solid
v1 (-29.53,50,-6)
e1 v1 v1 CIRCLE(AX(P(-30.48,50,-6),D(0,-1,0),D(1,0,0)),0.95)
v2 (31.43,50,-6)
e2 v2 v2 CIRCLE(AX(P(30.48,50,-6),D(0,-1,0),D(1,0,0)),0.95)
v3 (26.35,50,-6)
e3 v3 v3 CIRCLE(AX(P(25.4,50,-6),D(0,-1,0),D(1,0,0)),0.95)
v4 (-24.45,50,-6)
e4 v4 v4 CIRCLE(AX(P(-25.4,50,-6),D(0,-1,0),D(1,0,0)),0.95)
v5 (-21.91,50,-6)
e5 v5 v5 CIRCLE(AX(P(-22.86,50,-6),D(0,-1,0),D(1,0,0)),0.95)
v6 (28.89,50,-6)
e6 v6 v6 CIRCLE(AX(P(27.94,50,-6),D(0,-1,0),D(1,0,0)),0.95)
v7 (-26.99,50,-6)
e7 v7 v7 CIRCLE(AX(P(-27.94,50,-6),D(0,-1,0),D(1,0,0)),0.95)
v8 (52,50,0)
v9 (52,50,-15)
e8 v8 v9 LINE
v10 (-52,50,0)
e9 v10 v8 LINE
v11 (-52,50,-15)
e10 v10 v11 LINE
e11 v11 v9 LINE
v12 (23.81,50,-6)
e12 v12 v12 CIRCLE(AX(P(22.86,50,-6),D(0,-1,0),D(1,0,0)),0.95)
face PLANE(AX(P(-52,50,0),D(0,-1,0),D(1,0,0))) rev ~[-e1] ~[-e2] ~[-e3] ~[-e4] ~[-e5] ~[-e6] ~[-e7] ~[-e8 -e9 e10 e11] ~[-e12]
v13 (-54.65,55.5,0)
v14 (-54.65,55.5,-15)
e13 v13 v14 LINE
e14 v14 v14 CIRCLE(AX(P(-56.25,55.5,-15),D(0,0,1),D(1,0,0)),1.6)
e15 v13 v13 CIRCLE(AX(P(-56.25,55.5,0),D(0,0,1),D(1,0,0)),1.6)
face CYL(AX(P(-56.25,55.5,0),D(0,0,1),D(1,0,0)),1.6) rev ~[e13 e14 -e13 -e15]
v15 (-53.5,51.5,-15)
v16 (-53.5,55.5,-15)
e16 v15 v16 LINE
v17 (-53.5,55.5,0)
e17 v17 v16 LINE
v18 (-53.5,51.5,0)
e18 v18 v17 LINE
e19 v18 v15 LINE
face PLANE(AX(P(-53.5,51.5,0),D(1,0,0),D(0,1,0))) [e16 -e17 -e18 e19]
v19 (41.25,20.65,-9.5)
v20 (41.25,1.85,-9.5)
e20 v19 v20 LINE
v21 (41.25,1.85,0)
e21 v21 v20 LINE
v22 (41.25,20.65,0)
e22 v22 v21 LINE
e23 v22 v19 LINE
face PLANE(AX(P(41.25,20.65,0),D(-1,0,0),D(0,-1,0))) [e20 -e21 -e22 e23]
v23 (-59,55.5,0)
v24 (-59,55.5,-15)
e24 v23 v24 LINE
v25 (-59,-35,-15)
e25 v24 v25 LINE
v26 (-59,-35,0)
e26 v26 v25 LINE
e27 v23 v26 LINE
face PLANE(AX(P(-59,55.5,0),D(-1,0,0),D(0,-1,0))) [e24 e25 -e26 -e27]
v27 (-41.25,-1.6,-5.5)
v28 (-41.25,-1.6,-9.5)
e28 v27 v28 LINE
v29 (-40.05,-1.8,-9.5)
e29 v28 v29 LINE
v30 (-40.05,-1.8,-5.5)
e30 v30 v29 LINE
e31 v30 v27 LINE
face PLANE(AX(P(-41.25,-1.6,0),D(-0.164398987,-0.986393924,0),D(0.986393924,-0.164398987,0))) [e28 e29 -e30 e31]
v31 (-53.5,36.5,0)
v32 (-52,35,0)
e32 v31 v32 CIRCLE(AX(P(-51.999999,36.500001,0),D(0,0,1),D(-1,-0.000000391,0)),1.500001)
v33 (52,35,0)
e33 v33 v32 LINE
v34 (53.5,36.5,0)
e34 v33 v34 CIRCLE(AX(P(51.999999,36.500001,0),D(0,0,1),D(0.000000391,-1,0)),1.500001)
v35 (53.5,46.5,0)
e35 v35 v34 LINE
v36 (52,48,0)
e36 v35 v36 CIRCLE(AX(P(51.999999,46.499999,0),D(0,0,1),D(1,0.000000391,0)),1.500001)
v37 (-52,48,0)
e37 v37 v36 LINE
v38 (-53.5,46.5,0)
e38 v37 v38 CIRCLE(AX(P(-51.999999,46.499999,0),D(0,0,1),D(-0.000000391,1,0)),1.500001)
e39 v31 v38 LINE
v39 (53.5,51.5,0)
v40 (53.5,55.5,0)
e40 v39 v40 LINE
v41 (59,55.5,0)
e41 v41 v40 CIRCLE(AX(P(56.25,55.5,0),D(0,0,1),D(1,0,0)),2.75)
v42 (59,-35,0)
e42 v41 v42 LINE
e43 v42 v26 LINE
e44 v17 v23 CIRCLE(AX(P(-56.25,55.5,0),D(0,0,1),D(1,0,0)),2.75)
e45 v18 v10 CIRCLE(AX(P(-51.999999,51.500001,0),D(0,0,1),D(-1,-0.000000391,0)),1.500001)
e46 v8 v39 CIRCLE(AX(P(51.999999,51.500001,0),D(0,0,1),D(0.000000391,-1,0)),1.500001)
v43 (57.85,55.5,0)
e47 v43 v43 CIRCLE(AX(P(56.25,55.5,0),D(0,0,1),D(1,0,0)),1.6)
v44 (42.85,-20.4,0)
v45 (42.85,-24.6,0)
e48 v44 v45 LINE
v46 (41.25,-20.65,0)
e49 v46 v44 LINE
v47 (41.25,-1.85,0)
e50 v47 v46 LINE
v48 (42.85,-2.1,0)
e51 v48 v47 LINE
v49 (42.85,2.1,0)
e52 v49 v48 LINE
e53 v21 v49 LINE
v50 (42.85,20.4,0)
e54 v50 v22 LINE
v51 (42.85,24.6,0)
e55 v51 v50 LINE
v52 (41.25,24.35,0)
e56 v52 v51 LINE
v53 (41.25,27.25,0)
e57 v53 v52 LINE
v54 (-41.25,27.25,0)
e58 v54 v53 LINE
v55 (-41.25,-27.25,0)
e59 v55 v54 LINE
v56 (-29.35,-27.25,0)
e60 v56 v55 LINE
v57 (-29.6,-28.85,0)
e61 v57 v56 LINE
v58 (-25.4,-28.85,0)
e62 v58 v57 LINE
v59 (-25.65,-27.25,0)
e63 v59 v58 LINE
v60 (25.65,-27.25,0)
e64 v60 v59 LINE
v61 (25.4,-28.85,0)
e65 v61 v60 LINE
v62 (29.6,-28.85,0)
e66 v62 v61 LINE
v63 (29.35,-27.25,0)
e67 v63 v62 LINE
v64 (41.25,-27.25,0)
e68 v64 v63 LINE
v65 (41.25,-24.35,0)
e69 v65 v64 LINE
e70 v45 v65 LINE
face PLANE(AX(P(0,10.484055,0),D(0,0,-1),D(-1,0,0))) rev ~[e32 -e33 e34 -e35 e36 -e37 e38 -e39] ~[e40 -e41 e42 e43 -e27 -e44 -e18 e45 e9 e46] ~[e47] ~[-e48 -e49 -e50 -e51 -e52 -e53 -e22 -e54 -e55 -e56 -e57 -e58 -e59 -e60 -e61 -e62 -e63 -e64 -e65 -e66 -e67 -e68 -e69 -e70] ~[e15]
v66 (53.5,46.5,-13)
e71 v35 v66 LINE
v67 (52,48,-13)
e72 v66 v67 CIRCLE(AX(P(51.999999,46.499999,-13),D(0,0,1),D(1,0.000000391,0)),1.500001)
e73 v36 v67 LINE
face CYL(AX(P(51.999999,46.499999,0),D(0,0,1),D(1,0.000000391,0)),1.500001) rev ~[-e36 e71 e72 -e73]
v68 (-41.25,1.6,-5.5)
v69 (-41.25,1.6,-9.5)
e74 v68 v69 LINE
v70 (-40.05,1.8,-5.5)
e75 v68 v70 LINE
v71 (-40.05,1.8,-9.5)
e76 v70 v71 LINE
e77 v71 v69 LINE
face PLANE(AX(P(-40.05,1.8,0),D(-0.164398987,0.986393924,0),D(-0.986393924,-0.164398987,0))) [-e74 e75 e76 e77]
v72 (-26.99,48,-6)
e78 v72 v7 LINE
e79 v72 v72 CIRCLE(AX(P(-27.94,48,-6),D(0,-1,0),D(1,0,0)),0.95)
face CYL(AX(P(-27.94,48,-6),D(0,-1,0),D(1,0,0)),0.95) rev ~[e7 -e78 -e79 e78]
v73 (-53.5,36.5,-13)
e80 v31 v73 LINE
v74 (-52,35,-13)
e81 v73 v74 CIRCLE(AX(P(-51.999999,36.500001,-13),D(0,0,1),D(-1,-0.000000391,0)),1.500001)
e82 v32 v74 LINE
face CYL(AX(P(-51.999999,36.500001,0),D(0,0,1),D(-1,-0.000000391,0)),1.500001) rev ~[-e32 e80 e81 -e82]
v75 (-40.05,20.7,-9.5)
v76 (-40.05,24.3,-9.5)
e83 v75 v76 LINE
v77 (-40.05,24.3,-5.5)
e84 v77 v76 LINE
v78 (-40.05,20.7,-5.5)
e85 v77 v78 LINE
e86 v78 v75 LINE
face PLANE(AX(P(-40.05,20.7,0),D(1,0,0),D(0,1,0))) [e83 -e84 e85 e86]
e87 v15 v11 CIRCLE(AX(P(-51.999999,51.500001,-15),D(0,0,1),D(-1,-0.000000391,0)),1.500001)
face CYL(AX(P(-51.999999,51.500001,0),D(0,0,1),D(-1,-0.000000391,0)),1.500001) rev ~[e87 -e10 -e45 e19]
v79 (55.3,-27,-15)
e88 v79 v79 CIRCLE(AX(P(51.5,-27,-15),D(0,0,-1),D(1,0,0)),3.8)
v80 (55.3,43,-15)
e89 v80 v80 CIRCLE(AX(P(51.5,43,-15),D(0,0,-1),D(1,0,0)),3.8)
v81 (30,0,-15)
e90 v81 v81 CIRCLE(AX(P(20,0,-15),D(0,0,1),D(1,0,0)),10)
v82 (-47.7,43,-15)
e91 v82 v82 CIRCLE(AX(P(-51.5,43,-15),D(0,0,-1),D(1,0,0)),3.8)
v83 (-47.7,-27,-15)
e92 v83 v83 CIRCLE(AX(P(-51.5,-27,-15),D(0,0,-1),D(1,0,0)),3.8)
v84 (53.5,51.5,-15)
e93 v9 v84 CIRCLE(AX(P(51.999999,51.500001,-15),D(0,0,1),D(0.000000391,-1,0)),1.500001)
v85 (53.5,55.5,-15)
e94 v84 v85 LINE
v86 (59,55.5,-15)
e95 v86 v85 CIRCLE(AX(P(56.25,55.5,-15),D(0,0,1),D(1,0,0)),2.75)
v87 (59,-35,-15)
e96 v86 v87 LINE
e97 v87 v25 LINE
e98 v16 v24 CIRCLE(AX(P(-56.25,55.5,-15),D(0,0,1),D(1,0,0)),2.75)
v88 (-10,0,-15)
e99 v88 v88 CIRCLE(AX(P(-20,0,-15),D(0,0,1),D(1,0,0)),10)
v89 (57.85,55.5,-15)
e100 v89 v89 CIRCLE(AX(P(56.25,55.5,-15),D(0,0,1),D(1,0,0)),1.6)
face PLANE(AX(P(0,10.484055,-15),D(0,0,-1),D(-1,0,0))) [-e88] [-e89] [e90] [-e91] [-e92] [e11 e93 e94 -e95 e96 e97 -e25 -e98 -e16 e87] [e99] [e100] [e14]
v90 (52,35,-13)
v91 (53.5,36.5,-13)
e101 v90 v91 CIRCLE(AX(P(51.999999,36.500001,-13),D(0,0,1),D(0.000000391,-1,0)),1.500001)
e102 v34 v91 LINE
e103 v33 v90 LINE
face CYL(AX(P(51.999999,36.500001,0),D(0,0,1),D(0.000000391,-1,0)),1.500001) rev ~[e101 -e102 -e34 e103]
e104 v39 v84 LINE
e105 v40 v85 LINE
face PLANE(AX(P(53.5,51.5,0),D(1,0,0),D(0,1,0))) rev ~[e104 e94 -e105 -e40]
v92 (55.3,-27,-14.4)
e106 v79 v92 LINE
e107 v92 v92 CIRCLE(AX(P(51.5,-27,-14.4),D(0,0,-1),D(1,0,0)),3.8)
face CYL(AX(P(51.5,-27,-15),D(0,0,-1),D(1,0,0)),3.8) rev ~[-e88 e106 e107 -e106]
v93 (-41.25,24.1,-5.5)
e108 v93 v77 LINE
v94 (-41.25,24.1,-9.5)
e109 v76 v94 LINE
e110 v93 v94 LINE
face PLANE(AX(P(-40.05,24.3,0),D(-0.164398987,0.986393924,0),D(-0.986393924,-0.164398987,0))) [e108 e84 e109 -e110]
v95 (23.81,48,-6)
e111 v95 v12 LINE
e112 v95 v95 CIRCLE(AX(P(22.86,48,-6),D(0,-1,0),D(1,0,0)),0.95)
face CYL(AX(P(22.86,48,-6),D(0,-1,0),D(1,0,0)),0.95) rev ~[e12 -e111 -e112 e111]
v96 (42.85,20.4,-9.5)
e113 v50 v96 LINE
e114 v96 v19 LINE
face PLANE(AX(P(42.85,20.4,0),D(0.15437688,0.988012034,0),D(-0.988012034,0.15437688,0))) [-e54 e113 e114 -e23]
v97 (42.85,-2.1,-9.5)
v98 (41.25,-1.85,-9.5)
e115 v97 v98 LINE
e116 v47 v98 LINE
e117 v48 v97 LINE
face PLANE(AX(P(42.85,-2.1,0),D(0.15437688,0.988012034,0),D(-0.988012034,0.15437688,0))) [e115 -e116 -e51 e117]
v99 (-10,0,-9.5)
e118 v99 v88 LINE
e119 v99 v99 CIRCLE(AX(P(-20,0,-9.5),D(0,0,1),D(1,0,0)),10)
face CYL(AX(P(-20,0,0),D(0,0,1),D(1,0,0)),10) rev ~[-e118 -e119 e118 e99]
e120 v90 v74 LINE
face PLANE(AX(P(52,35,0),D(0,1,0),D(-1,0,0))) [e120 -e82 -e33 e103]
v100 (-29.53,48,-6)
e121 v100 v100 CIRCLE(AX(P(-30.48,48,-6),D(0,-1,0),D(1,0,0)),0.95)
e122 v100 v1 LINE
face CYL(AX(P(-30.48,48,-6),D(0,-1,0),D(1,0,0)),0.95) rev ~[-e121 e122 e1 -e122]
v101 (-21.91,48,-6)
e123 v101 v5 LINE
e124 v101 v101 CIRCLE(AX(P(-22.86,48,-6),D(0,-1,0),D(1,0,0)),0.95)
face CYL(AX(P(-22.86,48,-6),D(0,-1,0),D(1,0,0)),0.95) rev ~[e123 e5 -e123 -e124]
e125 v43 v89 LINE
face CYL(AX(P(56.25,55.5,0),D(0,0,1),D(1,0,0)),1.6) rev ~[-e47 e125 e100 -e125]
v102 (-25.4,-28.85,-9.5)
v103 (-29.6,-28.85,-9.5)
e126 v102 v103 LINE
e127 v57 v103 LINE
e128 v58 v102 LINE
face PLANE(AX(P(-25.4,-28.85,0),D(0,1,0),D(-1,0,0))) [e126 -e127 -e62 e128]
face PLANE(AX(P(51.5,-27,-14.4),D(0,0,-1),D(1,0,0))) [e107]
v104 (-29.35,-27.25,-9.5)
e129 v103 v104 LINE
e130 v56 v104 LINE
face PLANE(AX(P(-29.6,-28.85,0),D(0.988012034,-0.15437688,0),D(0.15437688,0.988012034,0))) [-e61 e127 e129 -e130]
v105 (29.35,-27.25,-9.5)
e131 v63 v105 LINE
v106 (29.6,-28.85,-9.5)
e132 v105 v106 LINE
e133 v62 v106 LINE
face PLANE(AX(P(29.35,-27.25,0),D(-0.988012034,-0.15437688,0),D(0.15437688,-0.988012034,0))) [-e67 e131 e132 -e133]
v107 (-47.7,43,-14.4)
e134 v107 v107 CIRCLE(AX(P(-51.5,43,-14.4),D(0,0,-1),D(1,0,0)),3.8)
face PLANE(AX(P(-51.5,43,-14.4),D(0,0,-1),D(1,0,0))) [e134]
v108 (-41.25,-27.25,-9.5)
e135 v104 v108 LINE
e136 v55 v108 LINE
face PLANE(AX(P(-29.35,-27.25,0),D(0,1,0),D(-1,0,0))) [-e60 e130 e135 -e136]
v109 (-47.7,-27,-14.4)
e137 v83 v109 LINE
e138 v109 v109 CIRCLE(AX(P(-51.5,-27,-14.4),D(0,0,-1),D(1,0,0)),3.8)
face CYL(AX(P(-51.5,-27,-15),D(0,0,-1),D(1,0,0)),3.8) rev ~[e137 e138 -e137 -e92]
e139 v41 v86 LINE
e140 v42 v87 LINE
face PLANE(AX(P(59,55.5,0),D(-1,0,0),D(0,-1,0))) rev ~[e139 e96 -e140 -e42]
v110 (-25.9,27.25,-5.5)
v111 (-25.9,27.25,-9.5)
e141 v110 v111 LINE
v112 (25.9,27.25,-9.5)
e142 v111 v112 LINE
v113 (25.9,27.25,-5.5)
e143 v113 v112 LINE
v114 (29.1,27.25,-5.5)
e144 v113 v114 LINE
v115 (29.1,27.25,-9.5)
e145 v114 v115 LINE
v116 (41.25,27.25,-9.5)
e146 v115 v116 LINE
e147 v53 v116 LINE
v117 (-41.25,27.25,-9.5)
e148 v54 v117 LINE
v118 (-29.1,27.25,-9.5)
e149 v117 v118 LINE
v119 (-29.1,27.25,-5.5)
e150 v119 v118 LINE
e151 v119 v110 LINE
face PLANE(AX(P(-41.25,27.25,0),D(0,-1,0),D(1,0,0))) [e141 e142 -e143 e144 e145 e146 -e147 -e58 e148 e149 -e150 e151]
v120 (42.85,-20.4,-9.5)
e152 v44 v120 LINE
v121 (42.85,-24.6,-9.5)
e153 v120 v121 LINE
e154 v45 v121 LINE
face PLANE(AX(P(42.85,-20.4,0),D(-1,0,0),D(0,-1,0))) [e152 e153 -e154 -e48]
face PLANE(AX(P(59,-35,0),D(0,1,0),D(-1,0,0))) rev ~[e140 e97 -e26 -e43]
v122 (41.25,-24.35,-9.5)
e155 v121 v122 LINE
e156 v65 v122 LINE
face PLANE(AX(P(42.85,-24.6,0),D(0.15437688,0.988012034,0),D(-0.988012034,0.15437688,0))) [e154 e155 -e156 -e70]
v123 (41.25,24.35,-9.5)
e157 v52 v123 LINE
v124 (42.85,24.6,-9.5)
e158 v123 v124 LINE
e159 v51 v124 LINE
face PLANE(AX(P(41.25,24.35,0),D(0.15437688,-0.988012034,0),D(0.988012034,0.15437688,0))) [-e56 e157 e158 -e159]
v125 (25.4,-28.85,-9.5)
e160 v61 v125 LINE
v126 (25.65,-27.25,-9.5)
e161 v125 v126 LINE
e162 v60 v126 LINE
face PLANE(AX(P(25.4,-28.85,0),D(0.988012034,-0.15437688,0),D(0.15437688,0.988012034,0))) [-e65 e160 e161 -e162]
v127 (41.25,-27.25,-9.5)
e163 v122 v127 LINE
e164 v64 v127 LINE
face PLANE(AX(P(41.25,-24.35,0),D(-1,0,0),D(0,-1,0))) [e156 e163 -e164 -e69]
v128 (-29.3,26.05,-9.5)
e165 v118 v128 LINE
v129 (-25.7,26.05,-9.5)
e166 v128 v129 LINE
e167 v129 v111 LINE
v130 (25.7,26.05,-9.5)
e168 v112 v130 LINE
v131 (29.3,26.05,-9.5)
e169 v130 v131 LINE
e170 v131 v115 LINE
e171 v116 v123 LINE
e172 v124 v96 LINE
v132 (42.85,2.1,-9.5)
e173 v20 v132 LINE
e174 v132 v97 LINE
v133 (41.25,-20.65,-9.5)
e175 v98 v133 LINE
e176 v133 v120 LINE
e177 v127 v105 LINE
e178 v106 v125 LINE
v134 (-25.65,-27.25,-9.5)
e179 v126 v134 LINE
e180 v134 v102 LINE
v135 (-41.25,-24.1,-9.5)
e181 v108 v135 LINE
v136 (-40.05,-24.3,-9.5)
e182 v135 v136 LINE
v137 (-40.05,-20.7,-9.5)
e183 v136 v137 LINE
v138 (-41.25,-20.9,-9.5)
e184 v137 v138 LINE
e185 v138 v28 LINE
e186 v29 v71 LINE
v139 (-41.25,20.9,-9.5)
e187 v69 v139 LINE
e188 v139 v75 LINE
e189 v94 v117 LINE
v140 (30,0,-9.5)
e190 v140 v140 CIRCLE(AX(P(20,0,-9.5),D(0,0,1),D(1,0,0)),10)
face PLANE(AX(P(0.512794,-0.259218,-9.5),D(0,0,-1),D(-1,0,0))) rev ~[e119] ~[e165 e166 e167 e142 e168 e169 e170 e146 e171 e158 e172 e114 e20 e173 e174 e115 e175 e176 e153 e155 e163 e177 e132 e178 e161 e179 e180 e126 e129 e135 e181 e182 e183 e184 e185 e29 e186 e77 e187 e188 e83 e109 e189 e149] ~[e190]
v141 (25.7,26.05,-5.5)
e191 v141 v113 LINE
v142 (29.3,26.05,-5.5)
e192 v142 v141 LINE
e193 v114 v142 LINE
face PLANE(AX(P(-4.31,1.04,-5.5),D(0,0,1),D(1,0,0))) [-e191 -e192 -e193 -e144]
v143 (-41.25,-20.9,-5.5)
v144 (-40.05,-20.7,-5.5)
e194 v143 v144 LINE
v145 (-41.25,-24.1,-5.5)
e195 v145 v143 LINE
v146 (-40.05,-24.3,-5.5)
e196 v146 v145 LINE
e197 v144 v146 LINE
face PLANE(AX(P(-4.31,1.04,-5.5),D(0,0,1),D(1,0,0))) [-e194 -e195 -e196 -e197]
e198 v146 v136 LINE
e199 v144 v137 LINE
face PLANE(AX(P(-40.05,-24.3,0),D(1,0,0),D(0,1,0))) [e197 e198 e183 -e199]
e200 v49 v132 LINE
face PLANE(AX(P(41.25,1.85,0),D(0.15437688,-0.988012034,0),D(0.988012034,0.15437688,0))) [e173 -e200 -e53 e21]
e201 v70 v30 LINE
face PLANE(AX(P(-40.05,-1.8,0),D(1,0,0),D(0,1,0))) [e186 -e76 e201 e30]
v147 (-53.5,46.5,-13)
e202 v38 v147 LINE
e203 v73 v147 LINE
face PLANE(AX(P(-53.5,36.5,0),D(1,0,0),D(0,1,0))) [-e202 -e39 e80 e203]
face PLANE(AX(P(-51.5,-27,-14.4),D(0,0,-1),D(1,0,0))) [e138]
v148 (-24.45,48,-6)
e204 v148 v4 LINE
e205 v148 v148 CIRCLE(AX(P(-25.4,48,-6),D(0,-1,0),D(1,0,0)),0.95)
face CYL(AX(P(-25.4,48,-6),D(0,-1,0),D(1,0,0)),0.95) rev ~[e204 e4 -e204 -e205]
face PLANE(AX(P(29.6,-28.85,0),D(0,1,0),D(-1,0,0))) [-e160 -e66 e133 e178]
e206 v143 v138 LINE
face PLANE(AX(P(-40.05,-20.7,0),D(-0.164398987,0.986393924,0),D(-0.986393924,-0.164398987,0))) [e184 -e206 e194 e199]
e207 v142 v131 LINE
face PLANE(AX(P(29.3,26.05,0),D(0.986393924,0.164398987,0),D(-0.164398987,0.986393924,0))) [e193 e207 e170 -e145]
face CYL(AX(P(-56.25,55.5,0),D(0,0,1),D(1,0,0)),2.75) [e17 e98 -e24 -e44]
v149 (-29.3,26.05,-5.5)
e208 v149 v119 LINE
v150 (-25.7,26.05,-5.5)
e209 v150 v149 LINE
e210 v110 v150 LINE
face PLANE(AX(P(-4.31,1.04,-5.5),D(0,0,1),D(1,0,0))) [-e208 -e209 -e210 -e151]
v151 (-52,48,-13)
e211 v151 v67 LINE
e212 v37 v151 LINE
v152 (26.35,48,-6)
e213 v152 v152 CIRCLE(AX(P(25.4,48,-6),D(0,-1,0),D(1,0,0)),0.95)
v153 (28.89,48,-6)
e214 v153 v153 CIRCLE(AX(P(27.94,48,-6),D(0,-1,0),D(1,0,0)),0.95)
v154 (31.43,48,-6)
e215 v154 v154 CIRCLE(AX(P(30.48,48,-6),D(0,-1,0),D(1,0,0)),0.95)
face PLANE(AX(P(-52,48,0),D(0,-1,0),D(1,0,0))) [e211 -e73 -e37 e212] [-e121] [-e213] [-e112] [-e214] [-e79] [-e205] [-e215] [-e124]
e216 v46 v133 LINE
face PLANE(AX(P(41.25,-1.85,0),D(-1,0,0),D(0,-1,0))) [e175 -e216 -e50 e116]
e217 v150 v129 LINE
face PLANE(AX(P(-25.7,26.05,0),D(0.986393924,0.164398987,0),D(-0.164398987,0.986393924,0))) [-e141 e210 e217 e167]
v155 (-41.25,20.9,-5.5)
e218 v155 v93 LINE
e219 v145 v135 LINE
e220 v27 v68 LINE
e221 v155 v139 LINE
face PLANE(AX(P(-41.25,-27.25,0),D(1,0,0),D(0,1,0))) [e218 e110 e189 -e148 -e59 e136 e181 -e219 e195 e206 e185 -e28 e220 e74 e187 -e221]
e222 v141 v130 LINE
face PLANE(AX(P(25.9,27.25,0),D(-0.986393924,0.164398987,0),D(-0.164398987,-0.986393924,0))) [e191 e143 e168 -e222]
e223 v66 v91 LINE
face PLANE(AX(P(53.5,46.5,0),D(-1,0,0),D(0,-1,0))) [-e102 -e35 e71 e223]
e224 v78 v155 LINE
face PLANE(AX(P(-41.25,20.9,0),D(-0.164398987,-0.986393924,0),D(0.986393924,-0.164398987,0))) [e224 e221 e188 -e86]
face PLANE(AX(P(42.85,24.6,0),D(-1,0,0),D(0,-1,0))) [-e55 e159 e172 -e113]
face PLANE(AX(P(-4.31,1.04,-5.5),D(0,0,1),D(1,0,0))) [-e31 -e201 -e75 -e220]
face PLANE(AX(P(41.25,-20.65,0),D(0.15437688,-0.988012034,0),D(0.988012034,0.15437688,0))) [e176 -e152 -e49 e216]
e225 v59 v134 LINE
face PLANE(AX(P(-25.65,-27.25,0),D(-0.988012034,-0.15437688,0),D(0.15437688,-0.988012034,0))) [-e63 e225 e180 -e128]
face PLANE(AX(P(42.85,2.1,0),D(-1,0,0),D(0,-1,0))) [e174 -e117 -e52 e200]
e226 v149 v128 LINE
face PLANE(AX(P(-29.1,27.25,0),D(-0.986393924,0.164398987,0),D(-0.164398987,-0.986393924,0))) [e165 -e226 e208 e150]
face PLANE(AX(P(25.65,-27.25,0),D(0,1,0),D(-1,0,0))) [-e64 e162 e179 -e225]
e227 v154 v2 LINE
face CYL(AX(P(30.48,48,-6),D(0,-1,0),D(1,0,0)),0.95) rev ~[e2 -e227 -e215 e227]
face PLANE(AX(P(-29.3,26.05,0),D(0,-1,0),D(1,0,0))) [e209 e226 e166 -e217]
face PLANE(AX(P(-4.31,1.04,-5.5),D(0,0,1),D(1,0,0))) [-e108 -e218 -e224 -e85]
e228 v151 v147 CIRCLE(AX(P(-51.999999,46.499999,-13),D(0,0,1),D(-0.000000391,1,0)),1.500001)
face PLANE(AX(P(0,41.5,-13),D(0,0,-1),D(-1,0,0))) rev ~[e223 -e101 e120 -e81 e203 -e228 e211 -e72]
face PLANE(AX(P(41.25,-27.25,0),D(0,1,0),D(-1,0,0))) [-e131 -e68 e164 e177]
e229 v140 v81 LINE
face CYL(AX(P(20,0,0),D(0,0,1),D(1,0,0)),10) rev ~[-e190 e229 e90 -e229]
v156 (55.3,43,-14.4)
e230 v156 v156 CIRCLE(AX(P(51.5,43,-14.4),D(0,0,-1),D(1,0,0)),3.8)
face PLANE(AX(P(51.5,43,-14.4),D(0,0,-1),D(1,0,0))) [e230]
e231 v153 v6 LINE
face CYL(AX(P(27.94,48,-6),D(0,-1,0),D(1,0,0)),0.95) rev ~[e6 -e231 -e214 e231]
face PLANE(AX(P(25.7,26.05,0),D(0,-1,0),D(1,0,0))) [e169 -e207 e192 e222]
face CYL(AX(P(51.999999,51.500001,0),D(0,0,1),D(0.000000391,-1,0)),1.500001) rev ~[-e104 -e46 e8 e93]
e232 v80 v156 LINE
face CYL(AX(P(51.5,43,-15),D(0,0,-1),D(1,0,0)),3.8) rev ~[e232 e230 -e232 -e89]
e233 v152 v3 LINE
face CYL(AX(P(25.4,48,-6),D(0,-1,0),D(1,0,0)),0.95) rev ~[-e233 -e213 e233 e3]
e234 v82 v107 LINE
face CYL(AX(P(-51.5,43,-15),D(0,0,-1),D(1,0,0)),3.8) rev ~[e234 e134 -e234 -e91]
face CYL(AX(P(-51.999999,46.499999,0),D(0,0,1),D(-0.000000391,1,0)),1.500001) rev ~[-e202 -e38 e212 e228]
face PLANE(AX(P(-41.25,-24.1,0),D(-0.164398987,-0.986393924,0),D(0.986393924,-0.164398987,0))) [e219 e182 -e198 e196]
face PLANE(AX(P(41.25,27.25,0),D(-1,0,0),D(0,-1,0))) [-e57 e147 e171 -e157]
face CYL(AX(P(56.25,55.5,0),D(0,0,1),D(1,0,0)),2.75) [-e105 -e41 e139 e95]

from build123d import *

# Parameters (mm, degrees)
PAD001_DEPTH    = 9.5
SKETCH_R        = 1.6
PAD_DEPTH       = 15
POCKET_DEPTH    = 13
SKETCH003_R     = 10
POCKET001_DEPTH = 15.001
SKETCH004_R     = 0.95
POCKET002_DEPTH = 2
SKETCH005_R     = 3.8
POCKET003_DEPTH = 0.6
SKETCH007_W     = 73.88
SKETCH007_H     = 52.42
POCKET004_DEPTH = 5.5


with BuildPart() as feature_breadboard:
    # Sketch006 → Pad001 (new body)
    with BuildSketch(Plane.XY):
        Polygon((-41.25, 27.25), (-29.1, 27.25), (-29.3, 26.05), (-25.7, 26.05), (-25.9, 27.25), (25.9, 27.25), (25.7, 26.05), (29.3, 26.05), (29.1, 27.25), (41.25, 27.25), (41.25, 24.35), (42.85, 24.6), (42.85, 20.4), (41.25, 20.65), (41.25, 1.85), (42.85, 2.1), (42.85, -2.1), (41.25, -1.85), (41.25, -20.65), (42.85, -20.4), (42.85, -24.6), (41.25, -24.35), (41.25, -27.25), (29.35, -27.25), (29.6, -28.85), (25.4, -28.85), (25.65, -27.25), (-25.65, -27.25), (-25.4, -28.85), (-29.6, -28.85), (-29.35, -27.25), (-41.25, -27.25), (-41.25, -24.1), (-40.05, -24.3), (-40.05, -20.7), (-41.25, -20.9), (-41.25, -1.6), (-40.05, -1.8), (-40.05, 1.8), (-41.25, 1.6), (-41.25, 20.9), (-40.05, 20.7), (-40.05, 24.3), (-41.25, 24.1), align=None)
    extrude(amount=-PAD001_DEPTH)


with BuildPart() as body:
    # Sketch → Pad (new body)
    with BuildSketch(Plane.XY):
        with BuildLine():
            Line((-52, 50), (52, 50))
            ThreePointArc((52, 50), (53.06066, 50.43934), (53.5, 51.5))
            Line((53.5, 51.5), (53.5, 55.5))
            ThreePointArc((59, 55.5), (56.25, 58.25), (53.5, 55.5))
            Line((59, 55.5), (59, -35))
            Line((59, -35), (-59, -35))
            Line((-59, 55.5), (-59, -35))
            ThreePointArc((-53.5, 55.5), (-56.25, 58.25), (-59, 55.5))
            Line((-53.5, 51.5), (-53.5, 55.5))
            ThreePointArc((-53.5, 51.5), (-53.06066, 50.43934), (-52, 50))
        make_face()
        with Locations((-56.25, 55.5)):
            Circle(SKETCH_R, mode=Mode.SUBTRACT)
        with Locations((56.25, 55.5)):
            Circle(SKETCH_R, mode=Mode.SUBTRACT)
    extrude(amount=-PAD_DEPTH)

    # Sketch001 (on Face13 of Pad) → Pocket (cut)
    with BuildSketch(Plane.XY):
        with BuildLine():
            Line((-52, 48), (52, 48))
            ThreePointArc((53.5, 46.5), (53.06066, 47.56066), (52, 48))
            Line((53.5, 46.5), (53.5, 36.5))
            ThreePointArc((52, 35), (53.06066, 35.43934), (53.5, 36.5))
            Line((52, 35), (-52, 35))
            ThreePointArc((-53.5, 36.5), (-53.06066, 35.43934), (-52, 35))
            Line((-53.5, 36.5), (-53.5, 46.5))
            ThreePointArc((-52, 48), (-53.06066, 47.56066), (-53.5, 46.5))
        make_face()
    extrude(amount=-POCKET_DEPTH, mode=Mode.SUBTRACT)

    # Sketch003 (on Face4 of Pocket) → Pocket001 (cut, through all)
    with BuildSketch(Plane.XY):
        with Locations((-20, 0)):
            Circle(SKETCH003_R)
        with Locations((20, 0)):
            Circle(SKETCH003_R)
    extrude(amount=-POCKET001_DEPTH, mode=Mode.SUBTRACT)

    # Sketch004 (on Face18 of Pocket001) → Pocket002 (cut)
    with BuildSketch(Plane.XZ.offset(-48)):
        with Locations((-30.48, -6)):
            Circle(SKETCH004_R)
        with Locations((-27.94, -6)):
            Circle(SKETCH004_R)
        with Locations((-25.4, -6)):
            Circle(SKETCH004_R)
        with Locations((-22.86, -6)):
            Circle(SKETCH004_R)
        with Locations((22.86, -6)):
            Circle(SKETCH004_R)
        with Locations((25.4, -6)):
            Circle(SKETCH004_R)
        with Locations((27.94, -6)):
            Circle(SKETCH004_R)
        with Locations((30.48, -6)):
            Circle(SKETCH004_R)
    extrude(amount=-POCKET002_DEPTH, mode=Mode.SUBTRACT)

    # Sketch005 (on Face5 of Pocket002) → Pocket003 (cut)
    with BuildSketch(Plane(origin=(0, 0, -15), x_dir=(1, 0, 0), z_dir=(0, 0, -1))):
        with Locations((-51.5, 27)):
            Circle(SKETCH005_R)
        with Locations((-51.5, -43)):
            Circle(SKETCH005_R)
        with Locations((51.5, -43)):
            Circle(SKETCH005_R)
        with Locations((51.5, 27)):
            Circle(SKETCH005_R)
    extrude(amount=-POCKET003_DEPTH, mode=Mode.SUBTRACT)

    # Boolean: cut feature_breadboard
    add(feature_breadboard.part, mode=Mode.SUBTRACT)

    # Sketch007 (on Face4 of Boolean) → Pocket004 (cut)
    with BuildSketch(Plane.XY):
        with Locations((-4.31, 1.04)):
            Rectangle(SKETCH007_W, SKETCH007_H)
    extrude(amount=-POCKET004_DEPTH, mode=Mode.SUBTRACT)


solid = body.part
